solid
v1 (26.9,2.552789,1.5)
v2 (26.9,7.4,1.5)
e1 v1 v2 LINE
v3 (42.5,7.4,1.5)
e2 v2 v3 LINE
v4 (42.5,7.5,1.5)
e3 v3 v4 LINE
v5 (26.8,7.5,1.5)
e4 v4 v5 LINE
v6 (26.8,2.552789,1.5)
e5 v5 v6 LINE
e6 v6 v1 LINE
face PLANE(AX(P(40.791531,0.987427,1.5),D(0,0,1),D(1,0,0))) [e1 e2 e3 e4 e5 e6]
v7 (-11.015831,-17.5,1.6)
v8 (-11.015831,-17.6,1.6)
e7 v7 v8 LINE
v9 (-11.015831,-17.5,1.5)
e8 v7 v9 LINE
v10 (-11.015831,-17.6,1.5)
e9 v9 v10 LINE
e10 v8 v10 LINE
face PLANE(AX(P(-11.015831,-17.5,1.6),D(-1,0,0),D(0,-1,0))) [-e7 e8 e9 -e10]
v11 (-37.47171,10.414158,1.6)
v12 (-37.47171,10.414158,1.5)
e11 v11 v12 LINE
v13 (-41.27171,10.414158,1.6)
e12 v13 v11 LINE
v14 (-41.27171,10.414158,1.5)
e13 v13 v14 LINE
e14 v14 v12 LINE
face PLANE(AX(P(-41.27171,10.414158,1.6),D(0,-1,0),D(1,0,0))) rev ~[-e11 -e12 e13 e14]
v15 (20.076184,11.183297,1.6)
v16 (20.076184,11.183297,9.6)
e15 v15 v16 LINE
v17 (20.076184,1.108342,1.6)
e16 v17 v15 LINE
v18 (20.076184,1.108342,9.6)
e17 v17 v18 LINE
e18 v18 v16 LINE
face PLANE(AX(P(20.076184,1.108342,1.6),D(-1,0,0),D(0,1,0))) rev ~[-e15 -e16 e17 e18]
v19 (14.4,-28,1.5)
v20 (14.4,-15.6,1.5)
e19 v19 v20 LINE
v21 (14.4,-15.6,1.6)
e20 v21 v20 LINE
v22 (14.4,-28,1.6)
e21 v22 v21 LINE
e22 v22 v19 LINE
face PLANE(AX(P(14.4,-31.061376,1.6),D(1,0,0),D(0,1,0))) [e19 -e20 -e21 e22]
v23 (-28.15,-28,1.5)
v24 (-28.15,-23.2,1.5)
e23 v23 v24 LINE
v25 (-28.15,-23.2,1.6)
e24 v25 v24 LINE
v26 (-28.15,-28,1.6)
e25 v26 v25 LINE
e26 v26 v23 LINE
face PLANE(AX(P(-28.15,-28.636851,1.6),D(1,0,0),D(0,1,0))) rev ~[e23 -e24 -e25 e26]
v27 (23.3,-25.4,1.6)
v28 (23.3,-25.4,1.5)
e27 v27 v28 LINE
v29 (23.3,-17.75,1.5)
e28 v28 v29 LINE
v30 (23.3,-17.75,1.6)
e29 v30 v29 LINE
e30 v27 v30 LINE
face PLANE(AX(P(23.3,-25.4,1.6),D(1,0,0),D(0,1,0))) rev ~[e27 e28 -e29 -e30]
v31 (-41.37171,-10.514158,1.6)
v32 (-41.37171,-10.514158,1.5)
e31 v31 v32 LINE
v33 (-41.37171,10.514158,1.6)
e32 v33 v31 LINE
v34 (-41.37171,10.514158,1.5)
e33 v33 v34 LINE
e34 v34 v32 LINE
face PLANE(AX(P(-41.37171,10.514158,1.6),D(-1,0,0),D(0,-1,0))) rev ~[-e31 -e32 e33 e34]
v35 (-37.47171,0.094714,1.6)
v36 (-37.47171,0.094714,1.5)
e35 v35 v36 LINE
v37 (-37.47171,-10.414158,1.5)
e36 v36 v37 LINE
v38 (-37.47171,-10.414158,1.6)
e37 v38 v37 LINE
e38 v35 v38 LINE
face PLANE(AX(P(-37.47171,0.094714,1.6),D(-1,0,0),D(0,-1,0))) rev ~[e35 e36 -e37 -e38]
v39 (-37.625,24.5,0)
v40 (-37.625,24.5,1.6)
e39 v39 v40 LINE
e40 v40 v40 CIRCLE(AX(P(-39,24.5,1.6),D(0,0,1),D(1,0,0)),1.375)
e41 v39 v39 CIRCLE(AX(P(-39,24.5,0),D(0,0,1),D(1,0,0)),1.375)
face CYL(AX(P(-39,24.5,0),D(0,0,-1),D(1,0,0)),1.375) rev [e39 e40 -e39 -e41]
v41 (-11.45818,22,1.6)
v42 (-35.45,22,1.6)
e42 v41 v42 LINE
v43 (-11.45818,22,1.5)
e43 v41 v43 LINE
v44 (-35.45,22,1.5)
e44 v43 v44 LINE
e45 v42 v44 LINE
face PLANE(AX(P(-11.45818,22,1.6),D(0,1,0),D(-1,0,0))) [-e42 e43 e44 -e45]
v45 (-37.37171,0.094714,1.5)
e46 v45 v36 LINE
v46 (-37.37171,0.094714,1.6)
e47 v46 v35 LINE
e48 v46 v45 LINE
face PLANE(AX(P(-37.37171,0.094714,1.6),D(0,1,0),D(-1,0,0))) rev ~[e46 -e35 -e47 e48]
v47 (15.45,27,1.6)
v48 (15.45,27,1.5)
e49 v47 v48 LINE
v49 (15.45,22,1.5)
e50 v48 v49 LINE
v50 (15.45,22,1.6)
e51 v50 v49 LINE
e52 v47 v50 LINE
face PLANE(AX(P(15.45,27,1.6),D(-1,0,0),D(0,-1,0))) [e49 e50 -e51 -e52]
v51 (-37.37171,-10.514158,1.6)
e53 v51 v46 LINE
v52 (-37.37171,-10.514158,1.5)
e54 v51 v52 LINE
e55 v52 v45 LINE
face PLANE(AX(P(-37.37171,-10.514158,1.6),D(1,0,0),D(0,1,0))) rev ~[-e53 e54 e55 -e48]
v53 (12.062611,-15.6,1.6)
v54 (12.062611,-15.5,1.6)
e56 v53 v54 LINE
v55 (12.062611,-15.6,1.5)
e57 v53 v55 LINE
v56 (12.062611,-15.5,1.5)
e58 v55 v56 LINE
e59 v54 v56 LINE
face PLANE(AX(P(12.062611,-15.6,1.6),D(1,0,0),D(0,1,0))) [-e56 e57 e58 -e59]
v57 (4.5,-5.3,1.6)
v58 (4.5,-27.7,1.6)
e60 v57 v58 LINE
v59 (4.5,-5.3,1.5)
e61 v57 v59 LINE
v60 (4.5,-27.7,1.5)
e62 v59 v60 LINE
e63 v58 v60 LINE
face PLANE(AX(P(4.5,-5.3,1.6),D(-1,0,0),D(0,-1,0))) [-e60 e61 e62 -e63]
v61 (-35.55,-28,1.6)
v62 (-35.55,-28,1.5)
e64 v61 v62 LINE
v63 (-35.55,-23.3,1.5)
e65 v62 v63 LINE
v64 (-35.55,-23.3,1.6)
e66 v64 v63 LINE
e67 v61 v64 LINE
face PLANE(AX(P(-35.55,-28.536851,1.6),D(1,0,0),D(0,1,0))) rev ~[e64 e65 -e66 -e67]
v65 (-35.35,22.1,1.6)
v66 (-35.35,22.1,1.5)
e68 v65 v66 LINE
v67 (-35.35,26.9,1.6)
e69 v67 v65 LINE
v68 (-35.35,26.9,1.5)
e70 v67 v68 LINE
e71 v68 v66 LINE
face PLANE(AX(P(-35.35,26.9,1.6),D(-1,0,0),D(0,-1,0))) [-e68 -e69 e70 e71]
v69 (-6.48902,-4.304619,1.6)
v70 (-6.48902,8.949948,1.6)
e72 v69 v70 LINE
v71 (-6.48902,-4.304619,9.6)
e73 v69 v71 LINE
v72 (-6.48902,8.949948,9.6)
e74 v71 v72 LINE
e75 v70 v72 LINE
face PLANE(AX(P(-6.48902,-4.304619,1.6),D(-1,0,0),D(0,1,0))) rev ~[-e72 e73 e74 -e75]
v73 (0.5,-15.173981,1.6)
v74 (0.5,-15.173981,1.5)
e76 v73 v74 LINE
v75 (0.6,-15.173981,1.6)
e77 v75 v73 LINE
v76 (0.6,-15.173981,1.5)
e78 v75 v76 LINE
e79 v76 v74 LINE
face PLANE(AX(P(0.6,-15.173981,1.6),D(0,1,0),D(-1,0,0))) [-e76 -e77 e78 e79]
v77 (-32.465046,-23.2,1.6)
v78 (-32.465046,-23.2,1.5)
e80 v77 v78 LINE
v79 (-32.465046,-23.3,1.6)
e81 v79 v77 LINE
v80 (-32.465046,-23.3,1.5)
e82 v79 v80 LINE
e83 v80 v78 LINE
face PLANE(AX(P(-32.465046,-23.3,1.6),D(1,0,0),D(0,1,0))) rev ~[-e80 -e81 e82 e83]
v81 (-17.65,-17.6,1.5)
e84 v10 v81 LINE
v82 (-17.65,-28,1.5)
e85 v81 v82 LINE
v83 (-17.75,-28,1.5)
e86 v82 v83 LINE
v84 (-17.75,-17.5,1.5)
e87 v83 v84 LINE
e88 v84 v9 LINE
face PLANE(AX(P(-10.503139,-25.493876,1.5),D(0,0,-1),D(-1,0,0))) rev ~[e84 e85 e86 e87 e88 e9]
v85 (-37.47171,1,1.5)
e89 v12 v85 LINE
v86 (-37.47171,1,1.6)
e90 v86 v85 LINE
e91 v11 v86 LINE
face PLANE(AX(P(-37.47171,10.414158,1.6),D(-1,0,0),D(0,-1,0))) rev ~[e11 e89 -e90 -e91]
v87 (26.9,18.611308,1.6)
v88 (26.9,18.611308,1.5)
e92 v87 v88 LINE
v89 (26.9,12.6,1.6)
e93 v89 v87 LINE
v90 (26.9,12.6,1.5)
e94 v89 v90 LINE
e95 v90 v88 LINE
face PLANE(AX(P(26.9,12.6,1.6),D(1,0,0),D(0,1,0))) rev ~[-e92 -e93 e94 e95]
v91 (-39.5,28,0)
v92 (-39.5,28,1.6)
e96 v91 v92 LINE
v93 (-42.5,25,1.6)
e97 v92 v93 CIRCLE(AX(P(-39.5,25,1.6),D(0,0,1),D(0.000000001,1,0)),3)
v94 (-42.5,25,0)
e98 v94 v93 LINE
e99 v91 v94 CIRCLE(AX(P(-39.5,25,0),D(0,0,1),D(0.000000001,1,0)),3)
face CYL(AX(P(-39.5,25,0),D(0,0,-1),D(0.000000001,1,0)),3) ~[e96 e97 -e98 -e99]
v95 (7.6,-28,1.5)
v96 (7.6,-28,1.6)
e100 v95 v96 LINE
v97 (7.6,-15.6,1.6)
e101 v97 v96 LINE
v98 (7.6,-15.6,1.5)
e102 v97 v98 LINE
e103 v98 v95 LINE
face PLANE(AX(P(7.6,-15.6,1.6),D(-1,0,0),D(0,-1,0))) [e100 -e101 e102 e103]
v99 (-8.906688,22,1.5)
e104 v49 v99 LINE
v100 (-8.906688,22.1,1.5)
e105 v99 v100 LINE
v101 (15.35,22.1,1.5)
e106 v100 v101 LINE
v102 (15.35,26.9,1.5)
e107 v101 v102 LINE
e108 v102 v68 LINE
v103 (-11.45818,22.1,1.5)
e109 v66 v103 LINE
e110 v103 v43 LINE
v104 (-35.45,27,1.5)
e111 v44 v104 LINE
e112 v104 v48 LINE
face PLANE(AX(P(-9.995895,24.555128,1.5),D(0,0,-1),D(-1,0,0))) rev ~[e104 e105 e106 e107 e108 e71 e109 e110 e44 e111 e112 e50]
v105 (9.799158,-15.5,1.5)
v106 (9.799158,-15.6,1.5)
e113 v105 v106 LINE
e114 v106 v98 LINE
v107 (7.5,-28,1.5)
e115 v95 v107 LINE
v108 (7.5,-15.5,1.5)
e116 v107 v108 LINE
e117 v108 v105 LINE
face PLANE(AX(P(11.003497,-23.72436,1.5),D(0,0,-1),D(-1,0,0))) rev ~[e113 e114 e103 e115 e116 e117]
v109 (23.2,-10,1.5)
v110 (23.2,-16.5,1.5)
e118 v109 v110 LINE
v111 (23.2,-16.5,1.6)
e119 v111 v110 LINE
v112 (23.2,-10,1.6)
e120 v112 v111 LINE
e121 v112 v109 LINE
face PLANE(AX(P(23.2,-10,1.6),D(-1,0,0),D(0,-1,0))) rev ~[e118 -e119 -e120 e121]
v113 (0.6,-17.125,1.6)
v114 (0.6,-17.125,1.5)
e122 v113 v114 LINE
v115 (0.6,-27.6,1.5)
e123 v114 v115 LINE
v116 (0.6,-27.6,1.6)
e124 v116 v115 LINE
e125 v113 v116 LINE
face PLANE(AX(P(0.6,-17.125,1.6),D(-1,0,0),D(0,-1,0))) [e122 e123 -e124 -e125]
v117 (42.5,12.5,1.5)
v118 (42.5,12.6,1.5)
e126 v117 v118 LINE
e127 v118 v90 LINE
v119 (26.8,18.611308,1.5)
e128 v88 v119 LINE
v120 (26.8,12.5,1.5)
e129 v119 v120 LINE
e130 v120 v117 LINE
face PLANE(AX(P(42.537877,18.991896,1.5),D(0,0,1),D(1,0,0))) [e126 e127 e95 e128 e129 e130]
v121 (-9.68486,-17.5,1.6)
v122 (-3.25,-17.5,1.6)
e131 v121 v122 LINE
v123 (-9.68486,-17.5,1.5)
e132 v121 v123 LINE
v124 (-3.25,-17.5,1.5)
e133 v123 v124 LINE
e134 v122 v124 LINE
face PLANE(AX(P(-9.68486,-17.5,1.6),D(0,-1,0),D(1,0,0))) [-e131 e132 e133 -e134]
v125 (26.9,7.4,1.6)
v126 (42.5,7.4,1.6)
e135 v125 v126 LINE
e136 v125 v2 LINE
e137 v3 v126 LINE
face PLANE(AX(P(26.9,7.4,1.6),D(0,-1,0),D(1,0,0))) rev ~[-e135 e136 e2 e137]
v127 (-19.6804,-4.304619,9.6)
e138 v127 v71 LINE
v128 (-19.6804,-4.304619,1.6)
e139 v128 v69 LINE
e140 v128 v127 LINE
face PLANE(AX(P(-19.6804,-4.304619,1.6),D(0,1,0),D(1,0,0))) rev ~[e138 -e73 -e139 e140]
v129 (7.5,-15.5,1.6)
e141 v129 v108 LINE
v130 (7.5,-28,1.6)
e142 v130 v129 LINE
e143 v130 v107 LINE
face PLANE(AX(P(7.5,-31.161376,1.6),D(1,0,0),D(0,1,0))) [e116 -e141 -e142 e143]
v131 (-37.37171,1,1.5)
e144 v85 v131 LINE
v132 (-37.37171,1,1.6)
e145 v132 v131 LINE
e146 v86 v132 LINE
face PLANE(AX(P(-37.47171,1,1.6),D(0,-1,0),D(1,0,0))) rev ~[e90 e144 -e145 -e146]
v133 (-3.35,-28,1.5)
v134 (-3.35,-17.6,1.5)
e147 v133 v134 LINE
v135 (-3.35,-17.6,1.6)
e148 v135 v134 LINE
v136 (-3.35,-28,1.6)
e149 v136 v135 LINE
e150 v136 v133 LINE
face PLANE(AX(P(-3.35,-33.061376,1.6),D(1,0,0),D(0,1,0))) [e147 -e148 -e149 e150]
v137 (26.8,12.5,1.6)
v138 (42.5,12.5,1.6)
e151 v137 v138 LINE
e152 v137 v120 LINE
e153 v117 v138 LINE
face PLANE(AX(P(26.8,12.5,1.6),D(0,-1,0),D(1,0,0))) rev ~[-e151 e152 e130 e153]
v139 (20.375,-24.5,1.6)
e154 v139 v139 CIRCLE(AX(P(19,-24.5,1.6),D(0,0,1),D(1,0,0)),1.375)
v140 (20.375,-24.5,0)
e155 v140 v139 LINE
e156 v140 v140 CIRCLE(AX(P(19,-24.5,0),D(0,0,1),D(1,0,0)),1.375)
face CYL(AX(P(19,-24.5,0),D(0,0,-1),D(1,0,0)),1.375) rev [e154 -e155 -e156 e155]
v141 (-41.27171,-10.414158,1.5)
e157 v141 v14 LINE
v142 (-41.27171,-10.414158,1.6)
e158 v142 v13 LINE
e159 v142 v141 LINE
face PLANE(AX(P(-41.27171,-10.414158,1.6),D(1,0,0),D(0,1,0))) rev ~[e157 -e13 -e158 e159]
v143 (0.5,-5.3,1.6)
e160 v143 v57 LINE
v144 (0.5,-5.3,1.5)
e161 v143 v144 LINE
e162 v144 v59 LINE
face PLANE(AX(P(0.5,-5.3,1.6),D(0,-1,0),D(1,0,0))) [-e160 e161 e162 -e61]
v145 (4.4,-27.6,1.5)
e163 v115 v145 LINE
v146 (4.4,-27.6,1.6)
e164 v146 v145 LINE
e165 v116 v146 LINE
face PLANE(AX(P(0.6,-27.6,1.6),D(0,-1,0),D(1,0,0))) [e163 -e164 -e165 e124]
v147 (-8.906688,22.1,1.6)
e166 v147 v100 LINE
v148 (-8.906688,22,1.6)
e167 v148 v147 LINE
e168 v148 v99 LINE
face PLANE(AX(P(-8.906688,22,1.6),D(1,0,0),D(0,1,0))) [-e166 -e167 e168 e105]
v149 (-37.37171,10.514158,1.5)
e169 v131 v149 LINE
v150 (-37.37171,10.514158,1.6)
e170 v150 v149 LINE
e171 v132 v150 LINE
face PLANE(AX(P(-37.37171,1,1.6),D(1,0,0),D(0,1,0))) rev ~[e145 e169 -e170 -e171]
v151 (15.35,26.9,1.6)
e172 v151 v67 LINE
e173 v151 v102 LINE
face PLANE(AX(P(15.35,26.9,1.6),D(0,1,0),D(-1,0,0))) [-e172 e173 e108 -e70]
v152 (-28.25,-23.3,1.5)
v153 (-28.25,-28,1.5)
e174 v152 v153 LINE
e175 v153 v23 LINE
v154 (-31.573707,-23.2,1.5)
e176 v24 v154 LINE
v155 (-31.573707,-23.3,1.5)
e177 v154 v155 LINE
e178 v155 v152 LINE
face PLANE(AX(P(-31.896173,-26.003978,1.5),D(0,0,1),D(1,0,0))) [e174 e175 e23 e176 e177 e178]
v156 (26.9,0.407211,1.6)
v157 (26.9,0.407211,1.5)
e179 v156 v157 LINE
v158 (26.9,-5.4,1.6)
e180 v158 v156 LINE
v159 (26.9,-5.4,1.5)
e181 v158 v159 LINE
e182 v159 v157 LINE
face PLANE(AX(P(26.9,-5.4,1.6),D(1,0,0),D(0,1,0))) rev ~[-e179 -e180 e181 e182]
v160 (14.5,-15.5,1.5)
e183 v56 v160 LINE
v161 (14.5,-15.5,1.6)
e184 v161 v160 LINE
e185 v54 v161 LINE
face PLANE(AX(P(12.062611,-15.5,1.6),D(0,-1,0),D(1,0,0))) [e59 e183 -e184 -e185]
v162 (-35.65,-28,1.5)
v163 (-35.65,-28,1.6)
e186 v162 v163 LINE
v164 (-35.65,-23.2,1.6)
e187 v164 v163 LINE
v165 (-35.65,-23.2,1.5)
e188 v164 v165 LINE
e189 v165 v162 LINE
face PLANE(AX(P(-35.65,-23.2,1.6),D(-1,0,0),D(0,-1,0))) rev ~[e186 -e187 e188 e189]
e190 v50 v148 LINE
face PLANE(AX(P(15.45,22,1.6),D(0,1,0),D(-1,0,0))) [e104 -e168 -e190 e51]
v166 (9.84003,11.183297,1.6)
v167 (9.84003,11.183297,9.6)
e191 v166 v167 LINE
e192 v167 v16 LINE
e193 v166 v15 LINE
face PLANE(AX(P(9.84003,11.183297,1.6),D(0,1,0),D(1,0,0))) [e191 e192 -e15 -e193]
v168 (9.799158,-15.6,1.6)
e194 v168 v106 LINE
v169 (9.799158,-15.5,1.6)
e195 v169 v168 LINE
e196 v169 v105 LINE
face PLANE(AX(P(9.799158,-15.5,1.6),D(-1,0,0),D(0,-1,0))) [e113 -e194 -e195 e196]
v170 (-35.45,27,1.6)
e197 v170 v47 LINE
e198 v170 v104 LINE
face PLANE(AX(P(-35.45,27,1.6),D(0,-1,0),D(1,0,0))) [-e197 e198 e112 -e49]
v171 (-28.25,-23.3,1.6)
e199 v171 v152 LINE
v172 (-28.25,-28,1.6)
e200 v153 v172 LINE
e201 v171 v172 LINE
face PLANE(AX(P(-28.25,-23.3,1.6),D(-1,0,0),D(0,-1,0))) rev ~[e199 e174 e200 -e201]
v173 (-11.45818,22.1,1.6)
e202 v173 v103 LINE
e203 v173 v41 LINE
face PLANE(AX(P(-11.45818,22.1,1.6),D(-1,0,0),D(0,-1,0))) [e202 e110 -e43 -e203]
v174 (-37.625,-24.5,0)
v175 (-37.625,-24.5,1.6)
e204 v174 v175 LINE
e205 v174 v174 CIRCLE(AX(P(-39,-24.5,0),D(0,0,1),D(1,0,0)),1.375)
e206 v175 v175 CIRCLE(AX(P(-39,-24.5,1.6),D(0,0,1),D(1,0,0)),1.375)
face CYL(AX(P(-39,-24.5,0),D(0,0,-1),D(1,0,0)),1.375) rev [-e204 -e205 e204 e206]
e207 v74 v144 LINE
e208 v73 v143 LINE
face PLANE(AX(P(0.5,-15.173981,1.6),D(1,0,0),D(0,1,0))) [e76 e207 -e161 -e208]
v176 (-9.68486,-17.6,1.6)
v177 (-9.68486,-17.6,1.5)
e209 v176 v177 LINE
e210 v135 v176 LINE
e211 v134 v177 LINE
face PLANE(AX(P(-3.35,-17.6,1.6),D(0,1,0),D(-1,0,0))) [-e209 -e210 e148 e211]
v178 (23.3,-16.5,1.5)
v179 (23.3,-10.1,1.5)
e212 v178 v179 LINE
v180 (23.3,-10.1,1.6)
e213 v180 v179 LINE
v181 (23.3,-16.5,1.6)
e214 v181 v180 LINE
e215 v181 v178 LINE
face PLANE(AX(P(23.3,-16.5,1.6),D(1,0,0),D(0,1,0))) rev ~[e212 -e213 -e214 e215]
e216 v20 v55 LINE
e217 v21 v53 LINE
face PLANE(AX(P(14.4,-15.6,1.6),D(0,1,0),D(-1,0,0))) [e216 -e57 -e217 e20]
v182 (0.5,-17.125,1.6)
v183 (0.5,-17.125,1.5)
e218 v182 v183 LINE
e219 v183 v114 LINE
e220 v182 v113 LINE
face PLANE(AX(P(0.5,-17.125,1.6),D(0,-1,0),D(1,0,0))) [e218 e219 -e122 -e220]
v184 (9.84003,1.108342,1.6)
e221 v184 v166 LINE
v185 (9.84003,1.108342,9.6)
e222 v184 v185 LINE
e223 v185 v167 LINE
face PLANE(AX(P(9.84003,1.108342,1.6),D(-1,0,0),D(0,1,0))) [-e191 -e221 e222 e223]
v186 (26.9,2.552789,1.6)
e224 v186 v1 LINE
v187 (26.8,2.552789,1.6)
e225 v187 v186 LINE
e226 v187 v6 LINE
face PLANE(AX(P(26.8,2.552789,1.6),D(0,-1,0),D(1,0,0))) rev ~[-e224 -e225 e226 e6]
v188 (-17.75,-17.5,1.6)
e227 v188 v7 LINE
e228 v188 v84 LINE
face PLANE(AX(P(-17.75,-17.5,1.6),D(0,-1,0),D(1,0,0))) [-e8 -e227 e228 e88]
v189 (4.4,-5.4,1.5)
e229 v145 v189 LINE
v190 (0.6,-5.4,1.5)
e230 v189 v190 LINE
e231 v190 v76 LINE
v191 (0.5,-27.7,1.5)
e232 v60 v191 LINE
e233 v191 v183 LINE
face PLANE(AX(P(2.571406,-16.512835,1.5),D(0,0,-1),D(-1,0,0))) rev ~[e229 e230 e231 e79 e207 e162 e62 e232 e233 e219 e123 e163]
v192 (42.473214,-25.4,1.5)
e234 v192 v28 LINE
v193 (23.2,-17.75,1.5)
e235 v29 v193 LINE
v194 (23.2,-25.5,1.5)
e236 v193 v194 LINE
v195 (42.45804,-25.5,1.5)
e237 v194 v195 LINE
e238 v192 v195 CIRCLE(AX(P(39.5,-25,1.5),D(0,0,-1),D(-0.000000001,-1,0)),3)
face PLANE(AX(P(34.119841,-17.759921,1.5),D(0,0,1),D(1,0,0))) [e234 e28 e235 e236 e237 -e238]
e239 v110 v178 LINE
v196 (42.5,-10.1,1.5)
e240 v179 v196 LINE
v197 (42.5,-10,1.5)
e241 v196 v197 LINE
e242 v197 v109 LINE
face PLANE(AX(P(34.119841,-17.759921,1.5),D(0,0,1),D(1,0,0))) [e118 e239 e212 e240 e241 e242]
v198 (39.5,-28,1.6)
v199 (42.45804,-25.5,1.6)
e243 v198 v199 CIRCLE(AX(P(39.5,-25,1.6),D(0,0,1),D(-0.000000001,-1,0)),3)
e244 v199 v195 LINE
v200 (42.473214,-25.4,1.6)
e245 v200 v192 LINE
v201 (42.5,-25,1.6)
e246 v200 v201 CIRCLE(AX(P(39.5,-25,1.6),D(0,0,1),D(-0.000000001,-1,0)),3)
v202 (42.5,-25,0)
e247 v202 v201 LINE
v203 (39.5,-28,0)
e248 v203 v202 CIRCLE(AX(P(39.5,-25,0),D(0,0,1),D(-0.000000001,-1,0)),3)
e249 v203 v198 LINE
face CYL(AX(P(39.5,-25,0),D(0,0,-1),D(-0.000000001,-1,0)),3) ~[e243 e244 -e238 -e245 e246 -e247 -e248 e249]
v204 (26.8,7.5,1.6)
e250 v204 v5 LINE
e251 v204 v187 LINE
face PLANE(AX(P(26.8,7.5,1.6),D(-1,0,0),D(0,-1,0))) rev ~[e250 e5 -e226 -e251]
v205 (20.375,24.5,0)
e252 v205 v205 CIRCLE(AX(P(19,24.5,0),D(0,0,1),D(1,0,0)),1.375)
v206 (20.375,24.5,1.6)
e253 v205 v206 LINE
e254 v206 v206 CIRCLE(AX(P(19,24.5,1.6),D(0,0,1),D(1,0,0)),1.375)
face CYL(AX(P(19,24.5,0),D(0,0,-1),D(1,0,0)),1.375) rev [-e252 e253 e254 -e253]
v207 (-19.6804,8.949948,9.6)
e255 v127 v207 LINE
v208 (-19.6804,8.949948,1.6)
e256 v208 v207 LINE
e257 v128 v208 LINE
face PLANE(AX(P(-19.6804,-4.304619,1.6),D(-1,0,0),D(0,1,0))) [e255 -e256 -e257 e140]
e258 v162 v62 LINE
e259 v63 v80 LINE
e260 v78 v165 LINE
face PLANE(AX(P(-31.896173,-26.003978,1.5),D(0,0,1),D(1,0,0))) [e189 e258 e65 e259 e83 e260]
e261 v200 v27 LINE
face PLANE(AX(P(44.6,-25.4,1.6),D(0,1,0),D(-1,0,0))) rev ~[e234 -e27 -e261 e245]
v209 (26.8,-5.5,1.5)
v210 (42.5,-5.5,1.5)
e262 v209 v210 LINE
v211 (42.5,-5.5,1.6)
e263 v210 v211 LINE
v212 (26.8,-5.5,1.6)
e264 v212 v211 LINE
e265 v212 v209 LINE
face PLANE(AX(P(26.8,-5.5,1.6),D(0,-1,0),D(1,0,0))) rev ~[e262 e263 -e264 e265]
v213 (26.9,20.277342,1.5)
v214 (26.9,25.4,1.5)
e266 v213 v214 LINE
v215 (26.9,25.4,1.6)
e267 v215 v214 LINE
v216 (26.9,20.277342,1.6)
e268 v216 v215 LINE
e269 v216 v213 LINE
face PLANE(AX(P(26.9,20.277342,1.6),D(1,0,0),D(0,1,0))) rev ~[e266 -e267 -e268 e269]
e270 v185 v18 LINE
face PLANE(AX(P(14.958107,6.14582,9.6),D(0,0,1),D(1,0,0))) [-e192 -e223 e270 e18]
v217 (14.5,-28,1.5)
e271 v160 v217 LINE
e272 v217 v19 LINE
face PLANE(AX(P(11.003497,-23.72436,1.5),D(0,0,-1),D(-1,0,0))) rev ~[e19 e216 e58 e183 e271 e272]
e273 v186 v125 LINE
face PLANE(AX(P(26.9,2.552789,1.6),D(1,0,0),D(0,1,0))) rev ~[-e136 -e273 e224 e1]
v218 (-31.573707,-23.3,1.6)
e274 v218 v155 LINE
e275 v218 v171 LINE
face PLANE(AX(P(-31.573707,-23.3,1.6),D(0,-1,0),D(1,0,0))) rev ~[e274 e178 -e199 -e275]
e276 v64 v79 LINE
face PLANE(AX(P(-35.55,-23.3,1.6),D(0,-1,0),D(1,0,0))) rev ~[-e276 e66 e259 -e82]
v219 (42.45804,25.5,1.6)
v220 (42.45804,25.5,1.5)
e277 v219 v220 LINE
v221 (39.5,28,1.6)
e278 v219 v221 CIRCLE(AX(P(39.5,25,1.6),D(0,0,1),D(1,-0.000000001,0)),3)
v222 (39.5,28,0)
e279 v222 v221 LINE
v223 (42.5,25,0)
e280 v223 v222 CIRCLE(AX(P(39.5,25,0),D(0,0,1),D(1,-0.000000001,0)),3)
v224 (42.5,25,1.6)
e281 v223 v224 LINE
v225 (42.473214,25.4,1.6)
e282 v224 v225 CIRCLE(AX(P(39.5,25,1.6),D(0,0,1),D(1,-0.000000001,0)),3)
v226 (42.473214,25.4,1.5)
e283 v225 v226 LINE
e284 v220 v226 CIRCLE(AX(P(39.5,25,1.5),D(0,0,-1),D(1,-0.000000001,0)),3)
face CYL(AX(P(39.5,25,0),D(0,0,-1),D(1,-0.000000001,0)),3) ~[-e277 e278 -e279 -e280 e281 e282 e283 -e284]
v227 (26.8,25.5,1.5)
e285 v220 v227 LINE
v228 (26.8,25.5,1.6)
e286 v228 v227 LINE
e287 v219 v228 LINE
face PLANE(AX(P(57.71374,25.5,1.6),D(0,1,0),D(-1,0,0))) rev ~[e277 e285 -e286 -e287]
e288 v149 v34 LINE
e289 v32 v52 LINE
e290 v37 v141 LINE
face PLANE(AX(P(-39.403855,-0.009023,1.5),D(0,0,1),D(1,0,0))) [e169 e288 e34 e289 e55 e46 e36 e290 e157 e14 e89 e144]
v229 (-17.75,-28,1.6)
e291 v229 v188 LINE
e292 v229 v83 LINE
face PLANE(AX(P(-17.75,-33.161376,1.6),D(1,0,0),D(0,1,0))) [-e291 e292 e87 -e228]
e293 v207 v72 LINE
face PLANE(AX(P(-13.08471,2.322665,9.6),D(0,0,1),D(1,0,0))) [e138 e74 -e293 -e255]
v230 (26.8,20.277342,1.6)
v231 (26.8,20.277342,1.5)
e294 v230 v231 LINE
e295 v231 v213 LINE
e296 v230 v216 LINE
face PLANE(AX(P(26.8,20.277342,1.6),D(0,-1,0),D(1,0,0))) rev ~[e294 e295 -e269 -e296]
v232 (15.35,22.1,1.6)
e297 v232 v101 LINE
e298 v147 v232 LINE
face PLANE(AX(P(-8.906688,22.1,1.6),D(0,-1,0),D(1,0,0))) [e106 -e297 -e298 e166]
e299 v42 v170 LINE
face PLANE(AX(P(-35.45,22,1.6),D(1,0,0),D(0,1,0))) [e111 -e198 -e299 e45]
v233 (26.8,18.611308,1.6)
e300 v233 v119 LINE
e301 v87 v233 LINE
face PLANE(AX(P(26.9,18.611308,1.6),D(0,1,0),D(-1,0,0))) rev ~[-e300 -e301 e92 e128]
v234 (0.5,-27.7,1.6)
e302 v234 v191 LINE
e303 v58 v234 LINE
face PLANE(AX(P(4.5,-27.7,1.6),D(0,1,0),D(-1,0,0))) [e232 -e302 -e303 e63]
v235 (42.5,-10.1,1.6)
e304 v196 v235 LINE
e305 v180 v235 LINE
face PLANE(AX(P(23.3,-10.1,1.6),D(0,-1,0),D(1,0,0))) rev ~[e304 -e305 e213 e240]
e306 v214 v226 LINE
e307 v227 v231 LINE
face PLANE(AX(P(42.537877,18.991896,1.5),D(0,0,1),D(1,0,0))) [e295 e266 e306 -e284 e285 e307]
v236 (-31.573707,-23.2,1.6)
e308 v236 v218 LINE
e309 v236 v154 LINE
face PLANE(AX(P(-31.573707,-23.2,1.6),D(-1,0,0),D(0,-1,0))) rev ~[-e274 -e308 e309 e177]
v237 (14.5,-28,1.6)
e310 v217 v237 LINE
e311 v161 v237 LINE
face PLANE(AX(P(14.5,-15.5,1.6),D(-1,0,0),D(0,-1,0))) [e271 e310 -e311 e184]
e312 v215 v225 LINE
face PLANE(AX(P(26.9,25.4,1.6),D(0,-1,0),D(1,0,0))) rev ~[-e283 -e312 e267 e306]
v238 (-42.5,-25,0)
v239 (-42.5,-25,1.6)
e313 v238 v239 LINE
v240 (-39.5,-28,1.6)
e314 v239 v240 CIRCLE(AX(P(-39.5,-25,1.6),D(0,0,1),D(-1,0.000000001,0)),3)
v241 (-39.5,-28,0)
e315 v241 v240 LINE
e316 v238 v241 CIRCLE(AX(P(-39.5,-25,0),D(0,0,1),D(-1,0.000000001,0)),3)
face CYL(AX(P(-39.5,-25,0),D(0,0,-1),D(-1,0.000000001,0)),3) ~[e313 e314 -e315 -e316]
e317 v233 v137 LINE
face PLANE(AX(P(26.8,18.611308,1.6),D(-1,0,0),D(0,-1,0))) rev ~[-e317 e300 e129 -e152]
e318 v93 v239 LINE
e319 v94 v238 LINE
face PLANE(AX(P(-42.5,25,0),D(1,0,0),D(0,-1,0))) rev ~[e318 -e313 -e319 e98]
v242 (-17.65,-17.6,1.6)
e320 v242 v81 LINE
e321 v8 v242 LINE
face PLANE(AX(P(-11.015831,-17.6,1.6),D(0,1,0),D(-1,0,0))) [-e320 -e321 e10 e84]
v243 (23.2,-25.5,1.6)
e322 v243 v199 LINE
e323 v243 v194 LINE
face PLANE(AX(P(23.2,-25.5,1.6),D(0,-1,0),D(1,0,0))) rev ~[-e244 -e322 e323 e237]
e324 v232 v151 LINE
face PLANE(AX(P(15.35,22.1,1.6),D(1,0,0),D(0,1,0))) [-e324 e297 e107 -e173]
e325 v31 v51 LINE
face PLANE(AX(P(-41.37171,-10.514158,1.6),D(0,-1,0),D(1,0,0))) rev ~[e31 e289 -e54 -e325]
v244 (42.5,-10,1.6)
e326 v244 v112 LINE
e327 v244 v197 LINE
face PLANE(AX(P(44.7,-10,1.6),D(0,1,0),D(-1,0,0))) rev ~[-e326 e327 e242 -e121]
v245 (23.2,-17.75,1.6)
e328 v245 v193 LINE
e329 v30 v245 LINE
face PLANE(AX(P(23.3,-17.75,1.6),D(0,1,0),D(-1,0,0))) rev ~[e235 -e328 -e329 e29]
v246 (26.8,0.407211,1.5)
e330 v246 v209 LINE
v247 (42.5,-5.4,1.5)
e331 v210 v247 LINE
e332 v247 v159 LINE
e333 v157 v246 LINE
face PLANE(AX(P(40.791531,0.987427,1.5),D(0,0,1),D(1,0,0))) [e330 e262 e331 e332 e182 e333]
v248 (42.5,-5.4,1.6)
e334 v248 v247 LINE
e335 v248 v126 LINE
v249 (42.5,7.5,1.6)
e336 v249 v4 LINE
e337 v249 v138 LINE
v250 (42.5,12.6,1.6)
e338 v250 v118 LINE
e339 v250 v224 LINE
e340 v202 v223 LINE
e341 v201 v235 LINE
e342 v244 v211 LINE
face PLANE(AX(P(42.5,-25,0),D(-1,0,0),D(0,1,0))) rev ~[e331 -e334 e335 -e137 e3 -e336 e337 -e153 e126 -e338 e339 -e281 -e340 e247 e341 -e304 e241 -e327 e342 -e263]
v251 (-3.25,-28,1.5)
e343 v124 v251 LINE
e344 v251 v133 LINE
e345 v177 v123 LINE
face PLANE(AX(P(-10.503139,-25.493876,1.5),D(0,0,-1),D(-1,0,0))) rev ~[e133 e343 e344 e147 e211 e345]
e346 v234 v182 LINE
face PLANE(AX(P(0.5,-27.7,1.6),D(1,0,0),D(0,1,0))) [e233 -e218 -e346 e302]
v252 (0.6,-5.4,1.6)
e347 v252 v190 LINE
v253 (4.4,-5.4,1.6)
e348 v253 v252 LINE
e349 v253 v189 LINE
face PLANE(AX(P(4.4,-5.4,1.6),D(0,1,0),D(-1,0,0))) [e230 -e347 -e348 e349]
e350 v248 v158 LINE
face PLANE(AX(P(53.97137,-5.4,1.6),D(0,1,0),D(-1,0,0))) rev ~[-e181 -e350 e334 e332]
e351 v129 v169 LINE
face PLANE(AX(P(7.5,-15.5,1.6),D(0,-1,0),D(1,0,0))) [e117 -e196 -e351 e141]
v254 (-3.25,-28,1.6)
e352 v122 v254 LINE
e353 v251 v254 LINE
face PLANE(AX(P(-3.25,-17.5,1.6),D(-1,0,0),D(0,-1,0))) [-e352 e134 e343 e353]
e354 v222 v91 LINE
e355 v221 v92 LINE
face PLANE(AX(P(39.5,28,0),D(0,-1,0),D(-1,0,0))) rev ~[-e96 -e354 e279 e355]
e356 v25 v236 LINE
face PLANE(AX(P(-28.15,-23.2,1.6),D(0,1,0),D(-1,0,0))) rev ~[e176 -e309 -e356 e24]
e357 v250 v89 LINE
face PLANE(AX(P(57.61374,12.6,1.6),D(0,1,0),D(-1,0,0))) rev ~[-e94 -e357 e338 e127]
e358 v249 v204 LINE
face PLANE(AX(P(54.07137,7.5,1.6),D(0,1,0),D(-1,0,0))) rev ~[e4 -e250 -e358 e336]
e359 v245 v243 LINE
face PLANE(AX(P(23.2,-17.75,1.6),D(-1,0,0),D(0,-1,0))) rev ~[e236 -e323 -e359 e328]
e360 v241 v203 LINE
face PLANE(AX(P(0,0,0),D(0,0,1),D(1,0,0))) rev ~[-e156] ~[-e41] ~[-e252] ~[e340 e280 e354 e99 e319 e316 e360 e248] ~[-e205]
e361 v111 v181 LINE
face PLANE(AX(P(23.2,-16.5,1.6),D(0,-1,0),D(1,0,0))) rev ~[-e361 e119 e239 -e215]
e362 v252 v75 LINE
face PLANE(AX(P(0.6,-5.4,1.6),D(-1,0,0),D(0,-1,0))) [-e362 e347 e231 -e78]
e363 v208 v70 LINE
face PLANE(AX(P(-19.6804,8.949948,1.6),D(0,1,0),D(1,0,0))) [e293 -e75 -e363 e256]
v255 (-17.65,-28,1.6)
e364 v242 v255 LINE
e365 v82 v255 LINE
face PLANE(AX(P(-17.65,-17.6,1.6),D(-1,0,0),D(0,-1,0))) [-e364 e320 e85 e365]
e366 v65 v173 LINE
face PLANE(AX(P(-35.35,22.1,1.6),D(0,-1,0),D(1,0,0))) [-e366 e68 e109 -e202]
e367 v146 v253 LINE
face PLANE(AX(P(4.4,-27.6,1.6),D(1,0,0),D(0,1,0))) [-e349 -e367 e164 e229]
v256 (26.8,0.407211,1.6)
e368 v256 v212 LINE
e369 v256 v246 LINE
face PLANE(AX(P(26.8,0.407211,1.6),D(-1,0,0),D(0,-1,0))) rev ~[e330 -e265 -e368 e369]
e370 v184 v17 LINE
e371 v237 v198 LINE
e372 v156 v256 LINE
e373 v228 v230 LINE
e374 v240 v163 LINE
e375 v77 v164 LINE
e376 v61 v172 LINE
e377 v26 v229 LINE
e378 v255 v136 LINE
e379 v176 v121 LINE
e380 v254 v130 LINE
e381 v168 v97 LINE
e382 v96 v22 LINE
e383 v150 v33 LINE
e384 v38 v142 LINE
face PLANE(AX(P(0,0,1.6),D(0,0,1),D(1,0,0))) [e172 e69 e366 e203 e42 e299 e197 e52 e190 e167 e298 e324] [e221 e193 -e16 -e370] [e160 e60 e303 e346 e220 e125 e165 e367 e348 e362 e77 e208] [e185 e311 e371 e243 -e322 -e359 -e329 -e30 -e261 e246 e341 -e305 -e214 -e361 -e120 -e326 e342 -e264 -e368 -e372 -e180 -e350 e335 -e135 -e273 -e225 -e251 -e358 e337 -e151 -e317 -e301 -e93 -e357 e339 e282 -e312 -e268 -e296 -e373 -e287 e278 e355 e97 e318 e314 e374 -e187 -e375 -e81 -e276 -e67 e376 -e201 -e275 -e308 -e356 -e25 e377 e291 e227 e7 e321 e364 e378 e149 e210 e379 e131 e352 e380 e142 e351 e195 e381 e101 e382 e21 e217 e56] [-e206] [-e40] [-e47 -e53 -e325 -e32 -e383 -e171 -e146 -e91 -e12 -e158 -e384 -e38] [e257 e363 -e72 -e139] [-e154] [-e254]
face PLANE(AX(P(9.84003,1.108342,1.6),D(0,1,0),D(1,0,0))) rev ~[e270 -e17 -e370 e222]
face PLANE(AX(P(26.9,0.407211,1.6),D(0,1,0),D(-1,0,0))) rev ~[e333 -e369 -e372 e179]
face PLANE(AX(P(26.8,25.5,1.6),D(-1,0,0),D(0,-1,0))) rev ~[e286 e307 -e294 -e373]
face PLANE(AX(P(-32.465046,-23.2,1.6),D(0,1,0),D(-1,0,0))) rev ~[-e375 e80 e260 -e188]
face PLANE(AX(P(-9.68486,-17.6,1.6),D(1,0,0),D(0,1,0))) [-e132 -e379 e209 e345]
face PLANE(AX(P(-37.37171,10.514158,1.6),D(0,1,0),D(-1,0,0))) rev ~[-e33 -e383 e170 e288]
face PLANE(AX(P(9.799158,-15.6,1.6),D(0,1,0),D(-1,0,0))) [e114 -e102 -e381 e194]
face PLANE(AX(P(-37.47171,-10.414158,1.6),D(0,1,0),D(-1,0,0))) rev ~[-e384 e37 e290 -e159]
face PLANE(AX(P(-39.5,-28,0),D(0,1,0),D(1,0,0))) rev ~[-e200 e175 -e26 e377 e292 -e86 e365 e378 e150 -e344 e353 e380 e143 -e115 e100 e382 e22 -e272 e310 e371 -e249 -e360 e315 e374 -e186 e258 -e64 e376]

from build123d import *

# Parameters (mm, degrees)
SKETCH1_R           = 1.375
BOSS_EXTRUDE1_DEPTH = 1.6
CUT_EXTRUDE1_DEPTH  = 0.1
SKETCH_1_W          = 13.191380008
SKETCH_1_H          = 13.254567414
EXTRUDE_1_DEPTH     = 8
SKETCH_2_W          = 10.236154205
SKETCH_2_H          = 10.074954926
EXTRUDE_2_DEPTH     = 8


with BuildPart() as part:
    # Sketch1 → Boss-Extrude1 (new body)
    with BuildSketch(Plane.XY):
        with BuildLine():
            Line((-39.5, -28), (39.5, -28))
            ThreePointArc((39.5, -28), (41.621320344, -27.121320344), (42.5, -25))
            Line((42.5, -25), (42.5, 25))
            ThreePointArc((42.5, 25), (41.621320344, 27.121320344), (39.5, 28))
            Line((39.5, 28), (-39.5, 28))
            ThreePointArc((-39.5, 28), (-41.621320344, 27.121320344), (-42.5, 25))
            Line((-42.5, 25), (-42.5, -25))
            ThreePointArc((-42.5, -25), (-41.621320344, -27.121320344), (-39.5, -28))
        make_face()
        with Locations((-39, 24.5)):
            Circle(SKETCH1_R, mode=Mode.SUBTRACT)
        with Locations((-39, -24.5)):
            Circle(SKETCH1_R, mode=Mode.SUBTRACT)
        with Locations((19, 24.5)):
            Circle(SKETCH1_R, mode=Mode.SUBTRACT)
        with Locations((19, -24.5)):
            Circle(SKETCH1_R, mode=Mode.SUBTRACT)
    extrude(amount=BOSS_EXTRUDE1_DEPTH)

    # Sketch2 → Cut-Extrude1 (cut)
    with BuildSketch(Plane.XY.offset(1.6)):
        Polygon((-35.65, -28.636850855), (-28.15, -28.636850855), (-28.15, -23.2), (-31.573707352, -23.2), (-31.573707352, -23.3), (-28.25, -23.3), (-28.25, -28.536850855), (-35.55, -28.536850855), (-35.55, -23.3), (-32.465045999, -23.3), (-32.465045999, -23.2), (-35.65, -23.2), align=None)
        Polygon((-17.75, -17.5), (-11.015830732, -17.5), (-11.015830732, -17.6), (-17.65, -17.6), (-17.65, -33.061376344), (-3.35, -33.061376344), (-3.35, -17.6), (-9.684859924, -17.6), (-9.684859924, -17.5), (-3.25, -17.5), (-3.25, -33.161376344), (-17.75, -33.161376344), align=None)
        Polygon((0.5, -5.3), (4.5, -5.3), (4.5, -27.7), (0.5, -27.7), (0.5, -17.125), (0.6, -17.125), (0.6, -27.6), (4.4, -27.6), (4.4, -5.4), (0.6, -5.4), (0.6, -15.17398131), (0.5, -15.17398131), align=None)
        Polygon((7.5, -15.5), (9.799158316, -15.5), (9.799158316, -15.6), (7.6, -15.6), (7.6, -31.061376344), (14.4, -31.061376344), (14.4, -15.6), (12.062610562, -15.6), (12.062610562, -15.5), (14.5, -15.5), (14.5, -31.161376344), (7.5, -31.161376344), align=None)
        Polygon((-35.45, 27), (15.45, 27), (15.45, 22), (-8.906687942, 22), (-8.906687942, 22.1), (15.35, 22.1), (15.35, 26.9), (-35.35, 26.9), (-35.35, 22.1), (-11.458179647, 22.1), (-11.458179647, 22), (-35.45, 22), align=None)
        Polygon((-41.371710411, -10.514157593), (-37.371710411, -10.514157593), (-37.371710411, 0.094714316), (-37.471710411, 0.094714316), (-37.471710411, -10.414157593), (-41.271710411, -10.414157593), (-41.271710411, 10.414157593), (-37.471710411, 10.414157593), (-37.471710411, 1), (-37.371710411, 1), (-37.371710411, 10.514157593), (-41.371710411, 10.514157593), align=None)
        Polygon((23.2, -25.5), (44.7, -25.5), (44.7, -10), (23.2, -10), (23.2, -16.5), (23.3, -16.5), (23.3, -10.1), (44.6, -10.1), (44.6, -25.4), (23.3, -25.4), (23.3, -17.75), (23.2, -17.75), align=None)
        Polygon((26.8, -5.5), (54.071370237, -5.5), (54.071370237, 7.5), (26.8, 7.5), (26.8, 2.552788505), (26.9, 2.552788505), (26.9, 7.4), (53.971370237, 7.4), (53.971370237, -5.4), (26.9, -5.4), (26.9, 0.407211154), (26.8, 0.407211154), align=None)
        Polygon((26.8, 12.5), (57.71374017, 12.5), (57.71374017, 25.5), (26.8, 25.5), (26.8, 20.277341759), (26.9, 20.277341759), (26.9, 25.4), (57.61374017, 25.4), (57.61374017, 12.6), (26.9, 12.6), (26.9, 18.611308355), (26.8, 18.611308355), align=None)
    extrude(amount=-CUT_EXTRUDE1_DEPTH, mode=Mode.SUBTRACT)

    # Эскиз1 → Бобышка-Вытянуть1 (add)
    with BuildSketch(Plane.XY.offset(1.6)):
        with Locations((-13.084710258, 2.32266466)):
            Rectangle(SKETCH_1_W, SKETCH_1_H)
    extrude(amount=EXTRUDE_1_DEPTH)

    # Эскиз2 → Бобышка-Вытянуть2 (add)
    with BuildSketch(Plane.XY.offset(1.6)):
        with Locations((14.958106781, 6.145819854)):
            Rectangle(SKETCH_2_W, SKETCH_2_H)
    extrude(amount=EXTRUDE_2_DEPTH)


solid = part.part
